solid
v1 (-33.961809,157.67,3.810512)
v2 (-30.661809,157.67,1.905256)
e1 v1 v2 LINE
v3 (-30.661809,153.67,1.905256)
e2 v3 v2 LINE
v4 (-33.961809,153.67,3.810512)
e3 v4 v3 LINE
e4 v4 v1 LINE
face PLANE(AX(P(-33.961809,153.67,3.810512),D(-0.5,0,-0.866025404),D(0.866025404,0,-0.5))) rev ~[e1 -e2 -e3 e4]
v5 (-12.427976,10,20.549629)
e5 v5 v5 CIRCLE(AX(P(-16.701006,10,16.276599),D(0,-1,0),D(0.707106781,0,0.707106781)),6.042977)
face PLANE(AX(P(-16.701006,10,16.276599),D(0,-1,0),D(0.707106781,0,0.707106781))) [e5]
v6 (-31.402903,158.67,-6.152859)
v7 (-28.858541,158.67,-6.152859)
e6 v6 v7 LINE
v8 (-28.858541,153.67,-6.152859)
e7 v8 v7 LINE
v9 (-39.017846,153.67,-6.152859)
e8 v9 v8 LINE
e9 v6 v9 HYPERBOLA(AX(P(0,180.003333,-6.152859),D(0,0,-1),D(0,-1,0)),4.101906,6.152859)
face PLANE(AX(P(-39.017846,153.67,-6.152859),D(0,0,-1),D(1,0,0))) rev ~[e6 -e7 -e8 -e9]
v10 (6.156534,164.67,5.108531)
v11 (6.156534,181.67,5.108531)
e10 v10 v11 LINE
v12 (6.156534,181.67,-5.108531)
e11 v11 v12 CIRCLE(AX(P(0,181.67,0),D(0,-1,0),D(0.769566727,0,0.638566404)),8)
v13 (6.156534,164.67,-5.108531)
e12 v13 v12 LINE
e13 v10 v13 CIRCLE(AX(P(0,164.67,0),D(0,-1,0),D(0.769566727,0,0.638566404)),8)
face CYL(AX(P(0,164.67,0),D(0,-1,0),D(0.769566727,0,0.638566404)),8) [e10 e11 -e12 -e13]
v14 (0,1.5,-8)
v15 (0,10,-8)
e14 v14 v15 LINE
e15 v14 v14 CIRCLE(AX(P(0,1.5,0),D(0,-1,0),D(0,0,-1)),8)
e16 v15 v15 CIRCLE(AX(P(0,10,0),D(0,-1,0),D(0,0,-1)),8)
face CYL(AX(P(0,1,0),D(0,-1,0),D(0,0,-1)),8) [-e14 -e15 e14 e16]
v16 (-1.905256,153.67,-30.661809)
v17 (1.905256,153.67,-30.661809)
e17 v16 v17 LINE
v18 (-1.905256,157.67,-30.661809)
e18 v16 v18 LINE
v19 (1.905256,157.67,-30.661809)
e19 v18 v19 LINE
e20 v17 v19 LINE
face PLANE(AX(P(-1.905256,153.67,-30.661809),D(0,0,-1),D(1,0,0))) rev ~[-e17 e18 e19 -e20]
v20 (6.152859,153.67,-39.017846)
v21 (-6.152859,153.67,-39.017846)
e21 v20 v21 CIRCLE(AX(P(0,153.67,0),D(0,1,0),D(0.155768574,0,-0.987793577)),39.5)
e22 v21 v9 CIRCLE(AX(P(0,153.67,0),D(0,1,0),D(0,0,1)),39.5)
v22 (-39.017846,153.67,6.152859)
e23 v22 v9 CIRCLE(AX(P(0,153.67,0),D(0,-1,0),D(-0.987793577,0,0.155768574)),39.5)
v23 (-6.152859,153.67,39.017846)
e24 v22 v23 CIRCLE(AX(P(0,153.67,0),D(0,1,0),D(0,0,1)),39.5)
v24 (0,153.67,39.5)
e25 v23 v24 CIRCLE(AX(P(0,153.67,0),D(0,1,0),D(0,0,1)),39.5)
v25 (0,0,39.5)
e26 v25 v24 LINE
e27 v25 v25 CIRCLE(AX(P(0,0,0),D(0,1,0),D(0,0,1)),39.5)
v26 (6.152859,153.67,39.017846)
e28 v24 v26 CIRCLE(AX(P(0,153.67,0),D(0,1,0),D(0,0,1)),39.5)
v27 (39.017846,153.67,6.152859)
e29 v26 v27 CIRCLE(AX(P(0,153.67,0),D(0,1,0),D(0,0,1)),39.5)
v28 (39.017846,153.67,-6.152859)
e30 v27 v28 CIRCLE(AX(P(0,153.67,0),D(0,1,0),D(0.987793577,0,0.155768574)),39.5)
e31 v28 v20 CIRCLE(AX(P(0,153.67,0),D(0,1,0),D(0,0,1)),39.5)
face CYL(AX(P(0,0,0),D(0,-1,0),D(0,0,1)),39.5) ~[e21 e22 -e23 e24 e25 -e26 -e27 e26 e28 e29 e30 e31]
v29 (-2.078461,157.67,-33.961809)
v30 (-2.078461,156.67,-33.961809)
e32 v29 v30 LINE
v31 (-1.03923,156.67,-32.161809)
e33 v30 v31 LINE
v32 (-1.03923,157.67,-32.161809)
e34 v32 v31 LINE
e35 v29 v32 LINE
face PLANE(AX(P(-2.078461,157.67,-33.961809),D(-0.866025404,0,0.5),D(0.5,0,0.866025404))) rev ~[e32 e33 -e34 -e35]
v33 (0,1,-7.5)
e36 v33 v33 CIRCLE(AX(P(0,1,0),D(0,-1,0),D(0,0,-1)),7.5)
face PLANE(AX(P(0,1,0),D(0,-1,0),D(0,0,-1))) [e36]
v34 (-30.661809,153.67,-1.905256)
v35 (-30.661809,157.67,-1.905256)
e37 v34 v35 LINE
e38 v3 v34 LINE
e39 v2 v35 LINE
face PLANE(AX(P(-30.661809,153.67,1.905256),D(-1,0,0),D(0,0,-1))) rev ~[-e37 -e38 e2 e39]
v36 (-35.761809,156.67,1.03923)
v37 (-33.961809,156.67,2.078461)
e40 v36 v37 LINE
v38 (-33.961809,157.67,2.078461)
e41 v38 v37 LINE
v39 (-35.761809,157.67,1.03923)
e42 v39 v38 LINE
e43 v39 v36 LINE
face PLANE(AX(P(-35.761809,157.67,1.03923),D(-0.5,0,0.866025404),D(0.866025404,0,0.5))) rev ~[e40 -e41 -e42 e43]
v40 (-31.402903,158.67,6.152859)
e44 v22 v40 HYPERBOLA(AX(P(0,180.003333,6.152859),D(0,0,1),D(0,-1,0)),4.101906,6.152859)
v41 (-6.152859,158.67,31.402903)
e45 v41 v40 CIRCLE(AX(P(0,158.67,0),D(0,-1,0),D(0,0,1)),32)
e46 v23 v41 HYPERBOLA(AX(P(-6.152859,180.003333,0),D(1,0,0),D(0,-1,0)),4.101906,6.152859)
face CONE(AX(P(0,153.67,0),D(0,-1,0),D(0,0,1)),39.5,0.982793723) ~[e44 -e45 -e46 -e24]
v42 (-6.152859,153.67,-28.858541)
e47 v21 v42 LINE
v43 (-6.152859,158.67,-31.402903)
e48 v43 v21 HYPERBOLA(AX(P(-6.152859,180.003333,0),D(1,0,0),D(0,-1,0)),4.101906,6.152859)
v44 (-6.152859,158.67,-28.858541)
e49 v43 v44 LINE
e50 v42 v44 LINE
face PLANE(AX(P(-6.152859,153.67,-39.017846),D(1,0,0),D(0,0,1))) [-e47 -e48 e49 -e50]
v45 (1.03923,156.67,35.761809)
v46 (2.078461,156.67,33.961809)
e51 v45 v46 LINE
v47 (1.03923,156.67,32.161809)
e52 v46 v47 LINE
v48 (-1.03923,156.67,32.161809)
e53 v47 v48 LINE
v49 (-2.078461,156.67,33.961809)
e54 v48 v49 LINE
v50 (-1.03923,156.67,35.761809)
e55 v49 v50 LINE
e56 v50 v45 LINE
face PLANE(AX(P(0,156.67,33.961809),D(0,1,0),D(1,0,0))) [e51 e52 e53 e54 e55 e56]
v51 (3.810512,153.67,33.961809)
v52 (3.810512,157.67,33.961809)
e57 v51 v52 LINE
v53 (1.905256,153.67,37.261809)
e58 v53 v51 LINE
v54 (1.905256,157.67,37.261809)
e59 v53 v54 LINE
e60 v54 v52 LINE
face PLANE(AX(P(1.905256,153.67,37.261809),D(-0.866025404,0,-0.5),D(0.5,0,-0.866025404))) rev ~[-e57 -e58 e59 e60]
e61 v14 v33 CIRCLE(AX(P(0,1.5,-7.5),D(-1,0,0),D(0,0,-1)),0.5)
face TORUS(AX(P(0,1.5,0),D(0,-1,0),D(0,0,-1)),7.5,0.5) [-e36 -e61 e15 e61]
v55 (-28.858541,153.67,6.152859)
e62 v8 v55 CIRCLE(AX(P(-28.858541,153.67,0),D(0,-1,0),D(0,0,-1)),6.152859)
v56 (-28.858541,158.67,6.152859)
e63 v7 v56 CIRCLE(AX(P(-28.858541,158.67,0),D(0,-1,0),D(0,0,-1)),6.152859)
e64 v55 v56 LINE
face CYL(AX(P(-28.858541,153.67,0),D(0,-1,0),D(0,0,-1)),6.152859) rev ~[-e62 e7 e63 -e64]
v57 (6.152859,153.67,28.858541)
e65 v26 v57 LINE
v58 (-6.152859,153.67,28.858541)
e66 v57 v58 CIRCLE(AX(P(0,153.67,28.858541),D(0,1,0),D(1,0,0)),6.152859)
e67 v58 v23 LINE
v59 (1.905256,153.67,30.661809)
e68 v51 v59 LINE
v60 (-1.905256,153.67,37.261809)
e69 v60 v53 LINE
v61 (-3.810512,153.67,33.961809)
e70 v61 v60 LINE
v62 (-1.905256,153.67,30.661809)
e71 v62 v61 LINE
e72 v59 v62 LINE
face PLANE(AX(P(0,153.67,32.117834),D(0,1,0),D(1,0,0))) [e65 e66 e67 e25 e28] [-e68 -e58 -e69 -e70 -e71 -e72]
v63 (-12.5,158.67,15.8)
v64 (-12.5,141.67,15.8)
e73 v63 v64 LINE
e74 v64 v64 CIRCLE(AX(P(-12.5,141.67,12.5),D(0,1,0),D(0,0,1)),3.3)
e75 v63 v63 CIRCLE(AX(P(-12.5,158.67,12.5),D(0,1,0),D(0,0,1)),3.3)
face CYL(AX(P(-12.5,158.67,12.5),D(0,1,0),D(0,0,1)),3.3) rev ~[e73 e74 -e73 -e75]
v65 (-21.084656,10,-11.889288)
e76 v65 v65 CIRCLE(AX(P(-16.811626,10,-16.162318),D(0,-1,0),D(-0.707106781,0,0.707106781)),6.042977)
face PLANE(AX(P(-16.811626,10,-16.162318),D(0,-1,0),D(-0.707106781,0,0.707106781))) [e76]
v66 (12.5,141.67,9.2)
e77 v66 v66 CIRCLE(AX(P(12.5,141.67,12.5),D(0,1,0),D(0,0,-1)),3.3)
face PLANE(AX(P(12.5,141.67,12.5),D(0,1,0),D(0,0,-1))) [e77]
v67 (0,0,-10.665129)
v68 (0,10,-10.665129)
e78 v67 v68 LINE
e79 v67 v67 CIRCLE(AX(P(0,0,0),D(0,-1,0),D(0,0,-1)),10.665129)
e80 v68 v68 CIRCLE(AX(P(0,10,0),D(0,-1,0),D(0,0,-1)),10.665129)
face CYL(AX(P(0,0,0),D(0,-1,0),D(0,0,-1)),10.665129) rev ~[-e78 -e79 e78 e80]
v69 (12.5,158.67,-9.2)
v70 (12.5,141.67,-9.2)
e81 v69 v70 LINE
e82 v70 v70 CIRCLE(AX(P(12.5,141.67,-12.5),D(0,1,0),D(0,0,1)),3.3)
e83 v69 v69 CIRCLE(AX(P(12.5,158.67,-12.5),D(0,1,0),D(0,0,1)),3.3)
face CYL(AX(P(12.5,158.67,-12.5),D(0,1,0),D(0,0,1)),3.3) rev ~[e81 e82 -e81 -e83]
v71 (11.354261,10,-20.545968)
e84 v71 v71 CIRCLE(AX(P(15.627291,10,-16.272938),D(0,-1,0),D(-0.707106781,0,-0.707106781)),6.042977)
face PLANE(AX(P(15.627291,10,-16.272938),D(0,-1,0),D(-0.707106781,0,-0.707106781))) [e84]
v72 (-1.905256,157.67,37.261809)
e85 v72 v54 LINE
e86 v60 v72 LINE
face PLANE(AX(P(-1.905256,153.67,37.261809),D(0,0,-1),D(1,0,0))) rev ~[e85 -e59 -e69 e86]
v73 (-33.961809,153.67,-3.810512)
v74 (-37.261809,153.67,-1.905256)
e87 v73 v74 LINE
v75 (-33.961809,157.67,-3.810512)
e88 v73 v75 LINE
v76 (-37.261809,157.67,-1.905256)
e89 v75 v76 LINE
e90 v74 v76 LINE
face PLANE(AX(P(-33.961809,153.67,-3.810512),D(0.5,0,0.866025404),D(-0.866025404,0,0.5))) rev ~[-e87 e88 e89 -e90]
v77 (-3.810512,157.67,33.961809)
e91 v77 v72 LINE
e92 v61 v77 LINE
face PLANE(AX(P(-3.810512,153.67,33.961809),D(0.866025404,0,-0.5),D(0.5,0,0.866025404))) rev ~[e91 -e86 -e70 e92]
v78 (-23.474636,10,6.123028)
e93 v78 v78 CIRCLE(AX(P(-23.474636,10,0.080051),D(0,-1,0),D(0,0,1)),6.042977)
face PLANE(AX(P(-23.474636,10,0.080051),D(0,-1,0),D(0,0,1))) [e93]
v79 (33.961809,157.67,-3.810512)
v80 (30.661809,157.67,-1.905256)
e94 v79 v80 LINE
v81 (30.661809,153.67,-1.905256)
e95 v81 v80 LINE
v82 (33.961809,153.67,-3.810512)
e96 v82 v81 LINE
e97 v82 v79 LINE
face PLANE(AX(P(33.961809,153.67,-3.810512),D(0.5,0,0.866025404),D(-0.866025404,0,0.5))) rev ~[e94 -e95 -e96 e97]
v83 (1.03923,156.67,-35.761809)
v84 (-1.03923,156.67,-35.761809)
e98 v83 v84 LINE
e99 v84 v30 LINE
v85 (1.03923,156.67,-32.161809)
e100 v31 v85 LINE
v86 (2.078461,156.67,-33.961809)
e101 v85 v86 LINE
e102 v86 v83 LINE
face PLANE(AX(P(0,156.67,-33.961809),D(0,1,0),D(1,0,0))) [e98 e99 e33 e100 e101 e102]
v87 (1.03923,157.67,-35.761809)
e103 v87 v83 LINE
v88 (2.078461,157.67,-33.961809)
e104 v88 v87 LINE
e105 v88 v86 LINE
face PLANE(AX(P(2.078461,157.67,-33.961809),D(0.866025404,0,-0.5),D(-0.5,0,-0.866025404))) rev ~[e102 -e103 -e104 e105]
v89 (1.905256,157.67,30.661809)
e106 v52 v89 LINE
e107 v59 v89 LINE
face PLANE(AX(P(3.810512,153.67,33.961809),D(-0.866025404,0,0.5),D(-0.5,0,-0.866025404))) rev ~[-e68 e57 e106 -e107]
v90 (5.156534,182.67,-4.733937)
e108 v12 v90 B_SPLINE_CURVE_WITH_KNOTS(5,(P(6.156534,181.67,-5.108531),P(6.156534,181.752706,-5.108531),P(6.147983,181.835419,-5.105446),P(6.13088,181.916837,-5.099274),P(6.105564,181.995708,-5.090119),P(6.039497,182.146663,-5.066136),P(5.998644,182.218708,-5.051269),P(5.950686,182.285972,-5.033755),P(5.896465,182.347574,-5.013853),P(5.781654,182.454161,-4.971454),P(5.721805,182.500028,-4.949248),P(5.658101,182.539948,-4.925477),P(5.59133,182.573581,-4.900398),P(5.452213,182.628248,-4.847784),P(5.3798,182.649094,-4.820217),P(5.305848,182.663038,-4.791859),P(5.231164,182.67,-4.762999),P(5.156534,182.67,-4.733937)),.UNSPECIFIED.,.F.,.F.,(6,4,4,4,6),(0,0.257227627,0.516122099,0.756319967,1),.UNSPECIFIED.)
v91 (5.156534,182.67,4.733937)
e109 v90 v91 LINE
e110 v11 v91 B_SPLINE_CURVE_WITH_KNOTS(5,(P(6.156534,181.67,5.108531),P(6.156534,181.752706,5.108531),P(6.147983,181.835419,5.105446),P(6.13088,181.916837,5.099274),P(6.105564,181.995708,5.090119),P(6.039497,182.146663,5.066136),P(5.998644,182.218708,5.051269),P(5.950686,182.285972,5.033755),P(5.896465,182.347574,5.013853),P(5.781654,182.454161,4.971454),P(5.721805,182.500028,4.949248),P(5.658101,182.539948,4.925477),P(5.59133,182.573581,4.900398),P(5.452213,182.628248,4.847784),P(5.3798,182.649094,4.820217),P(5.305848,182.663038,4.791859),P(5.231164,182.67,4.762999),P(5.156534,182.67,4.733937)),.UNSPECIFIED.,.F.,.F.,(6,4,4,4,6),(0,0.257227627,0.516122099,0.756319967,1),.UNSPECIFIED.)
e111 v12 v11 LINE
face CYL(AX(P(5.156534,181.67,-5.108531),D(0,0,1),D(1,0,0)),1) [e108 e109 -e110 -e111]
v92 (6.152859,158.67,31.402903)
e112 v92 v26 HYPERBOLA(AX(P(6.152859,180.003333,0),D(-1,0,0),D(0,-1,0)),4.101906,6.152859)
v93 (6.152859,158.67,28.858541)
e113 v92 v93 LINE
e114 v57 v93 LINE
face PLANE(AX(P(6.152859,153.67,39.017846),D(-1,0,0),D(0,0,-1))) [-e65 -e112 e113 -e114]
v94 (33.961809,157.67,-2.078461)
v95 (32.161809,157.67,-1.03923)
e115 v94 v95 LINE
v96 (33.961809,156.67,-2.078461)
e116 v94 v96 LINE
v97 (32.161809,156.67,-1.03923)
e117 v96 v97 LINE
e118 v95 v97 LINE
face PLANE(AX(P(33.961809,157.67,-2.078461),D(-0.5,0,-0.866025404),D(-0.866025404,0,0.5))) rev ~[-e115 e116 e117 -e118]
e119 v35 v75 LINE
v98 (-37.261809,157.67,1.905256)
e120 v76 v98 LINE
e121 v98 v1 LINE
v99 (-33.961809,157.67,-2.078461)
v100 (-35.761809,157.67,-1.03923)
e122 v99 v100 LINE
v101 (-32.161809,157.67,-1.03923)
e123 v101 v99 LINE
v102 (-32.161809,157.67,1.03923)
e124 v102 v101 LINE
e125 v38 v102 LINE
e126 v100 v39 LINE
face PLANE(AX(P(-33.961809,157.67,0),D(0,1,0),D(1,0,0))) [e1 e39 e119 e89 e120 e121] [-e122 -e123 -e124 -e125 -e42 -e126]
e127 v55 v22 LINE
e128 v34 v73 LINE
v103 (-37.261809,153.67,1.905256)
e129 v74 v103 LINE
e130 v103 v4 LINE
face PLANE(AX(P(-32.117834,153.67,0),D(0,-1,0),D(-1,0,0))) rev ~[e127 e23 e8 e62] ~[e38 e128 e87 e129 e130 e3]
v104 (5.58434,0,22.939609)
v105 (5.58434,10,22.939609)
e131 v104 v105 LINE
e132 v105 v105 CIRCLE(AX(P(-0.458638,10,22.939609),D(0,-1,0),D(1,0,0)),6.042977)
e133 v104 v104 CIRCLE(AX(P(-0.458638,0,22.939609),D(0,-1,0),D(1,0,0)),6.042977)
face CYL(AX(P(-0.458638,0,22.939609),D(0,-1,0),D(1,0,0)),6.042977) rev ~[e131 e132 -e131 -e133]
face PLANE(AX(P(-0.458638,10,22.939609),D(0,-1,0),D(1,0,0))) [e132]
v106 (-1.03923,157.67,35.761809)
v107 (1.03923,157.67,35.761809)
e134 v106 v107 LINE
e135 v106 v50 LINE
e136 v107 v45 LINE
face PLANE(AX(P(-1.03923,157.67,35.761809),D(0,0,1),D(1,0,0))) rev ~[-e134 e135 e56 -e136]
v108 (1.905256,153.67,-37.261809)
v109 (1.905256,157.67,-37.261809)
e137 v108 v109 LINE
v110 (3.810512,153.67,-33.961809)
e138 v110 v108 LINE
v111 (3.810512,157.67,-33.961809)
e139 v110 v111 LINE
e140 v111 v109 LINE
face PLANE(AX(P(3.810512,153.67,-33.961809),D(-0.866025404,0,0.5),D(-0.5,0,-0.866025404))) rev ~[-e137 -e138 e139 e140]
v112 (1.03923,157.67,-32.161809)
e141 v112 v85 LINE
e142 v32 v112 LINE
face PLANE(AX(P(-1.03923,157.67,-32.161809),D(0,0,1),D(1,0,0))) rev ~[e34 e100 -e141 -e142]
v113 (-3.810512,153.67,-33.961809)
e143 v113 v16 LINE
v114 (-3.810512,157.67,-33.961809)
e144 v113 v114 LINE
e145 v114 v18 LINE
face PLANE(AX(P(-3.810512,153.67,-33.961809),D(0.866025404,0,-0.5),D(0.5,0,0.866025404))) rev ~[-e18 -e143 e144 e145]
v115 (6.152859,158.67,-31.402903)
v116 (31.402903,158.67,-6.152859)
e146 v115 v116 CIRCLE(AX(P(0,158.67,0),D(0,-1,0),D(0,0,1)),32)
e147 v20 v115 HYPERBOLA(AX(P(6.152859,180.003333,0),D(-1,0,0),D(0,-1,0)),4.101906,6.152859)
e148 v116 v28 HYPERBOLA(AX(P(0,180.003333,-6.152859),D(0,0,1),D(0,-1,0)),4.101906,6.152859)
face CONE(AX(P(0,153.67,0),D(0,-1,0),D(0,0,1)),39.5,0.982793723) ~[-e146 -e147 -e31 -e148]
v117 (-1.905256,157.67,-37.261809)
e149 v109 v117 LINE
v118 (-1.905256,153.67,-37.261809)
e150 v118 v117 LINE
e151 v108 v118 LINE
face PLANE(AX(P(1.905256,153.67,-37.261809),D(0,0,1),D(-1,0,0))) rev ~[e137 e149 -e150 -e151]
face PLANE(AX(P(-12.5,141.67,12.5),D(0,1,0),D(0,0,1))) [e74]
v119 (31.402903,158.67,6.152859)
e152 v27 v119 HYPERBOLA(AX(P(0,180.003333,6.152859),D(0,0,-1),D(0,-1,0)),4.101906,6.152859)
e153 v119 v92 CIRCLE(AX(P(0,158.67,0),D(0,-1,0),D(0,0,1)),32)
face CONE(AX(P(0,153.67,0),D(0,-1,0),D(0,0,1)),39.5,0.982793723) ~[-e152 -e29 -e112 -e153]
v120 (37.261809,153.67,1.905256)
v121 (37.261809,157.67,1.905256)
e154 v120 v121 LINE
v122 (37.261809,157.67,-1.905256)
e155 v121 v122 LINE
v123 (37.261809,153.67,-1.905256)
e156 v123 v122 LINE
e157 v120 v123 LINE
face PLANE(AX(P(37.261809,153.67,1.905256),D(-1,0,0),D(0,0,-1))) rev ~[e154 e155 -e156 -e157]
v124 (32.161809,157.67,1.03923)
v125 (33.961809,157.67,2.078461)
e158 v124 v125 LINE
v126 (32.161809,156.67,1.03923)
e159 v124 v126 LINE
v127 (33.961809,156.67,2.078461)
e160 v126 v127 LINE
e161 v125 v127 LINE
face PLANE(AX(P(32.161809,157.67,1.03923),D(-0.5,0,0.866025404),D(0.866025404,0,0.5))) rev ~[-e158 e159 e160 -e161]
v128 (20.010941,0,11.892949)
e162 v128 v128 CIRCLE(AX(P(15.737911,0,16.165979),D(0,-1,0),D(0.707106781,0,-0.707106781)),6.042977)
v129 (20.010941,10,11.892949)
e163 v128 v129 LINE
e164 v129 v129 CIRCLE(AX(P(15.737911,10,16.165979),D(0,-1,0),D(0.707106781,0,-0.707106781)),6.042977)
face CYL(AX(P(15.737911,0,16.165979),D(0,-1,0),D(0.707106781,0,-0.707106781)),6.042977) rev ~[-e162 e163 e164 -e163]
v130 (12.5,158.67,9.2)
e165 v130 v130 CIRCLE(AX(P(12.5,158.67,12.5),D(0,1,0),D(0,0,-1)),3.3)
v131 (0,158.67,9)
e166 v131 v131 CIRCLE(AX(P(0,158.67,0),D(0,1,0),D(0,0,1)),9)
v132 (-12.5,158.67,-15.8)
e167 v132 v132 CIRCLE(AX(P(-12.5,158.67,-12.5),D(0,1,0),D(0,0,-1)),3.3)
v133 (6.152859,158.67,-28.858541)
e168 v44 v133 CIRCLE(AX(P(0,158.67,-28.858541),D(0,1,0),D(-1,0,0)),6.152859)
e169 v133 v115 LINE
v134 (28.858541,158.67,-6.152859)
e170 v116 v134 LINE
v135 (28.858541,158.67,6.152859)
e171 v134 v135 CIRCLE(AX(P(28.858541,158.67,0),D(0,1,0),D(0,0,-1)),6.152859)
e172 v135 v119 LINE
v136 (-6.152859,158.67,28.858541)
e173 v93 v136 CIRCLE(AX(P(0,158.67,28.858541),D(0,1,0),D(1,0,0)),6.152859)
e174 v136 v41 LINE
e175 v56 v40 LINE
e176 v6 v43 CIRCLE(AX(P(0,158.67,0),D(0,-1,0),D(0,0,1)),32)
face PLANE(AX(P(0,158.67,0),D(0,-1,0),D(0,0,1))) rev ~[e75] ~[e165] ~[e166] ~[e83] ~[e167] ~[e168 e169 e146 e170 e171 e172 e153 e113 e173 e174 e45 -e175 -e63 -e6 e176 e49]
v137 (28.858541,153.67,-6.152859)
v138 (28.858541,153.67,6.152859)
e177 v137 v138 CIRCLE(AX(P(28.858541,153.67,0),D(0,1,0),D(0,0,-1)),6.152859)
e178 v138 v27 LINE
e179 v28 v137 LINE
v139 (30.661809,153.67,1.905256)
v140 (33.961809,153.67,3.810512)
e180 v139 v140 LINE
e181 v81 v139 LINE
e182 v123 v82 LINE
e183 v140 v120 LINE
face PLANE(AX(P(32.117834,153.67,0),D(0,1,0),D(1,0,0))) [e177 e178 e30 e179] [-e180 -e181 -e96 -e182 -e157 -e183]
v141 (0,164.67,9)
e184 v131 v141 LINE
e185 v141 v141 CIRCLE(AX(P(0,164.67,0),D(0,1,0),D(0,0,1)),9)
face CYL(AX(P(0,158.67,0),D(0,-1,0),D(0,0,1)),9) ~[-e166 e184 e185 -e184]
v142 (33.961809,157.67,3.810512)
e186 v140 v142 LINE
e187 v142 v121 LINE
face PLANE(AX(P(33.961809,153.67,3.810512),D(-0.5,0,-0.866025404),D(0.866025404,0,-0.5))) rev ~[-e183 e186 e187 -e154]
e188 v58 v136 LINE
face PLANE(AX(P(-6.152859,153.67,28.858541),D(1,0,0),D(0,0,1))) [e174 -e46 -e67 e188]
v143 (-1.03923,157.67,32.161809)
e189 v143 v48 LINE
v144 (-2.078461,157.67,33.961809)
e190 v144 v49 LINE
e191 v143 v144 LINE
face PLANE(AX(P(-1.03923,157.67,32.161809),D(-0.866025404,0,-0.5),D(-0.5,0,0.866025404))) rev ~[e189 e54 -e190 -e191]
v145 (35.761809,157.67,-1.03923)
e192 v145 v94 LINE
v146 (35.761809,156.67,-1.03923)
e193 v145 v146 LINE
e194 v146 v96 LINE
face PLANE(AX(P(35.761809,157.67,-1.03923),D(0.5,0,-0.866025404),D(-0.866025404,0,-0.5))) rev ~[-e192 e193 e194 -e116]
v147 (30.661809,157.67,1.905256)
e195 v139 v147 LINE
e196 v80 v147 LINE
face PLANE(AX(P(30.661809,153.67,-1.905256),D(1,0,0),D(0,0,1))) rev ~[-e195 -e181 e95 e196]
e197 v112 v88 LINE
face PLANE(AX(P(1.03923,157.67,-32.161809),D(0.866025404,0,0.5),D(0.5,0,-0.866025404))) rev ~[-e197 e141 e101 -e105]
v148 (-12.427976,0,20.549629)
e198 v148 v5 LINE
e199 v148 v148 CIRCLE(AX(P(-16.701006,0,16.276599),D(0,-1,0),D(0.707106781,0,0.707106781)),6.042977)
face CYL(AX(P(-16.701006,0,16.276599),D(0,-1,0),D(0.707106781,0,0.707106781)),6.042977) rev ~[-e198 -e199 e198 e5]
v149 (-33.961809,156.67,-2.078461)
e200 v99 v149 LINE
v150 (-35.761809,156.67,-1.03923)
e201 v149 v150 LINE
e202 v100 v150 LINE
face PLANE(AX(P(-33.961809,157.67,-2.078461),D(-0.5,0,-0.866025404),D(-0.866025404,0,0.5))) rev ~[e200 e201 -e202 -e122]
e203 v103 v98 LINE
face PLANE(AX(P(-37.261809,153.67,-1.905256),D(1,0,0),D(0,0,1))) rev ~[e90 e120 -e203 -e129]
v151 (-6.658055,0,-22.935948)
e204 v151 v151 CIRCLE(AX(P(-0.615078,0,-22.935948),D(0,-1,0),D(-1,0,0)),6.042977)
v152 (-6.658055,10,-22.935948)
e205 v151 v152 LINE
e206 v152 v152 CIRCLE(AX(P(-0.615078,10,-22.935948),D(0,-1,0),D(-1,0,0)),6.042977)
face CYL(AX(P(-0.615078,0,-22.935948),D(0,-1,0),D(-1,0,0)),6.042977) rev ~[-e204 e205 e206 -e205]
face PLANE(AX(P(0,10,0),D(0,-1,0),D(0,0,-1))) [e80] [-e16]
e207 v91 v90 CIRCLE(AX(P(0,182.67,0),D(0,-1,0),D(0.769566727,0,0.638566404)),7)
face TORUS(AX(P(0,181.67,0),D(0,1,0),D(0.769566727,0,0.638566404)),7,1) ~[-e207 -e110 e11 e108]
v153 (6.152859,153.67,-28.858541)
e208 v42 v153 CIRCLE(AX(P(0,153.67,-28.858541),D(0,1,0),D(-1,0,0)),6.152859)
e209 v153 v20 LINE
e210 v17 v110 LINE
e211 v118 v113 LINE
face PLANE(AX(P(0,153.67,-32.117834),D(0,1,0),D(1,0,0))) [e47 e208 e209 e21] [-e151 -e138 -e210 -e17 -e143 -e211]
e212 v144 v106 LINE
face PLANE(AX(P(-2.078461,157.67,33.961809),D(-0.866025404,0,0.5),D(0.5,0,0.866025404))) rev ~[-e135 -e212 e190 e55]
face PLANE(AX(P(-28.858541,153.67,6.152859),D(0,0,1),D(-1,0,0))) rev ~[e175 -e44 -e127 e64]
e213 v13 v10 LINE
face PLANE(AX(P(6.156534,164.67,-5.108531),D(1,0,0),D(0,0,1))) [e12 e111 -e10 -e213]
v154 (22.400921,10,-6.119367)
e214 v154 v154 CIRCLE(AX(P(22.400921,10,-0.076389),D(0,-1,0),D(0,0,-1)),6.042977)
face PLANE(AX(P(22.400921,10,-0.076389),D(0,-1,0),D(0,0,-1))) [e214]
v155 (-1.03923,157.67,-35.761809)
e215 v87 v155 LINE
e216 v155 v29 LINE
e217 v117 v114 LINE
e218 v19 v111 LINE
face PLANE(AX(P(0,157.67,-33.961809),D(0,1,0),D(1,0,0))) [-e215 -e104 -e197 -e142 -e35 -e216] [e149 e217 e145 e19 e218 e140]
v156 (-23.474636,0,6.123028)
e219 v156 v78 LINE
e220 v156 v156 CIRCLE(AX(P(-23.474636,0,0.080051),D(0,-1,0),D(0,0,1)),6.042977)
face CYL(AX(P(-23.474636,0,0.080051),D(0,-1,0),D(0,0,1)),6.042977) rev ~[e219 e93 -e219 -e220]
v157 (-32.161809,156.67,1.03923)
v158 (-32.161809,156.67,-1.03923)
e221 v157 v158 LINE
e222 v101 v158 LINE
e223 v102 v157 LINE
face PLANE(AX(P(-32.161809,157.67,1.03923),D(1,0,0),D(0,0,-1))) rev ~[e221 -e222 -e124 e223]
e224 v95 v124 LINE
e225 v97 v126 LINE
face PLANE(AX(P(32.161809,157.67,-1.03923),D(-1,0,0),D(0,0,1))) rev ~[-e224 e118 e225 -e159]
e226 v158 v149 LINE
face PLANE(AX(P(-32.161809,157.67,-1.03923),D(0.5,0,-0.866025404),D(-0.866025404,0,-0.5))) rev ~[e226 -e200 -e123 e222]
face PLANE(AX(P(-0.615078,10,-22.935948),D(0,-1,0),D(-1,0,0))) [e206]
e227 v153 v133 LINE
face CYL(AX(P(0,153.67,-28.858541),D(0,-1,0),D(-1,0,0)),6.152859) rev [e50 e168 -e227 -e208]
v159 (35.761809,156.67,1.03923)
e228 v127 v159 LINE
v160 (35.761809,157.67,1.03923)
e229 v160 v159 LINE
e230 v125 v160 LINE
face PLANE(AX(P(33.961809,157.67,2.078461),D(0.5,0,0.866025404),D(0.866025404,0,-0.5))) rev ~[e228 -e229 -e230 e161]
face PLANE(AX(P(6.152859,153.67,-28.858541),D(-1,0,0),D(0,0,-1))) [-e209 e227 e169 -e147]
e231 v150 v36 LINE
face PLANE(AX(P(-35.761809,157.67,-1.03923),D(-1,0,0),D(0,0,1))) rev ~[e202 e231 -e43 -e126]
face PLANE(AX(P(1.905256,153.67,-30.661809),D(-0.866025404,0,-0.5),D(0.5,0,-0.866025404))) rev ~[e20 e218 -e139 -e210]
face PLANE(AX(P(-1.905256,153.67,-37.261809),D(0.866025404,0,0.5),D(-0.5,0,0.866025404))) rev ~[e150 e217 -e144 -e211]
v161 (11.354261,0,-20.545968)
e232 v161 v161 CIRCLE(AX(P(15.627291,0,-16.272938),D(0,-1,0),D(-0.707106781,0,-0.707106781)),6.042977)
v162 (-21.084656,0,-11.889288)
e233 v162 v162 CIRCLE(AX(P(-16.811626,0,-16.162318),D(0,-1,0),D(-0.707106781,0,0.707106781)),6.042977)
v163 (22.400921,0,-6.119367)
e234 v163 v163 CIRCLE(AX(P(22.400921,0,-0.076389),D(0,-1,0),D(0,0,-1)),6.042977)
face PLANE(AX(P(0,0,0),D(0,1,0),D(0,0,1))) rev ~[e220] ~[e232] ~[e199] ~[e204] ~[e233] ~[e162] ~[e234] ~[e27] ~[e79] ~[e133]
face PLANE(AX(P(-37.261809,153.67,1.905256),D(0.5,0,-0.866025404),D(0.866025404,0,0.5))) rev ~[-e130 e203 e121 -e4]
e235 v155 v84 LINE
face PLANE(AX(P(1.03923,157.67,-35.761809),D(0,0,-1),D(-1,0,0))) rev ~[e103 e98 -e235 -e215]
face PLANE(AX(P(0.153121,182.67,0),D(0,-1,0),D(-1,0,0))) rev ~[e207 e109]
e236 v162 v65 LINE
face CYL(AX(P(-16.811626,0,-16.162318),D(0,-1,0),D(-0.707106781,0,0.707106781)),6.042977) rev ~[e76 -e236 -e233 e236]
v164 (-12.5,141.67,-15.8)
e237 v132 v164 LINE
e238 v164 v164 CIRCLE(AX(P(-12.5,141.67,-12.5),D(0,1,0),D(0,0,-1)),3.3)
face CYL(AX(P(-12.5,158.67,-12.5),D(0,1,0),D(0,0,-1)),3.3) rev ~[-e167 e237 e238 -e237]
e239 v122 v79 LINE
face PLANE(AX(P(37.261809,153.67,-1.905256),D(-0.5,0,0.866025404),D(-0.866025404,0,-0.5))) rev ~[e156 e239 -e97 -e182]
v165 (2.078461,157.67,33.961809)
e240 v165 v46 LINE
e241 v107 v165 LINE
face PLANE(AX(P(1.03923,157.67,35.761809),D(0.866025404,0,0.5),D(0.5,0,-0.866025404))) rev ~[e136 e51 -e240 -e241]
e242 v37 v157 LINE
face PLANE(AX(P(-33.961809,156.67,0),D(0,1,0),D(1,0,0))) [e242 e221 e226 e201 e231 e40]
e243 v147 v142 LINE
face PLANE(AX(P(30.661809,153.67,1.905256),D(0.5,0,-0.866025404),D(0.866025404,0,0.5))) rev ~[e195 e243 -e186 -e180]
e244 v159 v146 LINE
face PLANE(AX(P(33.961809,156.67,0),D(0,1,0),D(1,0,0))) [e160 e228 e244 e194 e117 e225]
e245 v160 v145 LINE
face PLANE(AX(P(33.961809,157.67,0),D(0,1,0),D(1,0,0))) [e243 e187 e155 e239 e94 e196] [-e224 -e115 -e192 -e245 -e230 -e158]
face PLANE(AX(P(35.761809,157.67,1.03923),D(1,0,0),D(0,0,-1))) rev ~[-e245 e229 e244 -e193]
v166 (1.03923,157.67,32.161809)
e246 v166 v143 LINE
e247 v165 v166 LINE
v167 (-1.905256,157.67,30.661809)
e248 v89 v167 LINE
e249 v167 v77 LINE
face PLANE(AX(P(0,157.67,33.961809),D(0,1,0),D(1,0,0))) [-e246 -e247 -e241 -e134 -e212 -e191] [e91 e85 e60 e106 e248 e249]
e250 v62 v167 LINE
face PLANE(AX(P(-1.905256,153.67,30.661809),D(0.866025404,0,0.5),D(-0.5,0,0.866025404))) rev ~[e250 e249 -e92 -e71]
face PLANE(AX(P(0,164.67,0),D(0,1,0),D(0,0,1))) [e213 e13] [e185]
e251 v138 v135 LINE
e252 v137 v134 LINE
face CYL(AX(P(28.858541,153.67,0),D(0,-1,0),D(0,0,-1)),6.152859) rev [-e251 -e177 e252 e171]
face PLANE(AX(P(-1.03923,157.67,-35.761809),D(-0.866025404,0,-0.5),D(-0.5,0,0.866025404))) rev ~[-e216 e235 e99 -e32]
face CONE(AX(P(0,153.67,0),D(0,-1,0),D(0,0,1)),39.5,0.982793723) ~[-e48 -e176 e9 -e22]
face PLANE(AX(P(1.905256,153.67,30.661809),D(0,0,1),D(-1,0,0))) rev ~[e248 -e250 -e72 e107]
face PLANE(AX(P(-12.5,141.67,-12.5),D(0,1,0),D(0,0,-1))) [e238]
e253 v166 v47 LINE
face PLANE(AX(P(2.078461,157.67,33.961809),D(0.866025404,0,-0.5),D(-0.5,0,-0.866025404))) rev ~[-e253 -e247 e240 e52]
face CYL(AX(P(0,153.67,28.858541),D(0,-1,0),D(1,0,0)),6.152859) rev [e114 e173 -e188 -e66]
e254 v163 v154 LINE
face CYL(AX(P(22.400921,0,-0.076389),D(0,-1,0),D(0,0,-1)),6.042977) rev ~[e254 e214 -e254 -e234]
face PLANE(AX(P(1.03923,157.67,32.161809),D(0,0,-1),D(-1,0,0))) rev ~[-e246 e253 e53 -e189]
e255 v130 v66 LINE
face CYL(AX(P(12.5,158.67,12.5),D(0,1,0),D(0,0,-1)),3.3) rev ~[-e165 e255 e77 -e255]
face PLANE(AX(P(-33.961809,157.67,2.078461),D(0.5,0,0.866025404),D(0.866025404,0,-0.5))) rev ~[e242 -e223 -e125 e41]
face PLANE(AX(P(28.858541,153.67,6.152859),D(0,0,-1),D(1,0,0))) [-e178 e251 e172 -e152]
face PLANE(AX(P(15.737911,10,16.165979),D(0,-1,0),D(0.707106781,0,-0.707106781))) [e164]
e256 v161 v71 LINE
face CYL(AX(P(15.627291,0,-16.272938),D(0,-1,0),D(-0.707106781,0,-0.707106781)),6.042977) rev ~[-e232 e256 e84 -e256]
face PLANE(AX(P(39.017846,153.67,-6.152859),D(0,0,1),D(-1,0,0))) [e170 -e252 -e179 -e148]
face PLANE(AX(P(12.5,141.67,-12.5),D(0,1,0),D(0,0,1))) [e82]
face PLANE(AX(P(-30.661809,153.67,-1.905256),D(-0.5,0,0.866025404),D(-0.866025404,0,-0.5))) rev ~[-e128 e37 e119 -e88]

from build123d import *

# Parameters (mm, degrees)
SKETCH1_R           = 39.5
BOSS_EXTRUDE1_DEPTH = 153.67
CUT_EXTRUDE1_START  = -5
CUT_EXTRUDE1_DEPTH  = 5
SKETCH4_5_R         = 9
BOSS_EXTRUDE2_DEPTH = 6
BOSS_EXTRUDE3_DEPTH = 18
SKETCH4_7_R         = 3.3
CUT_EXTRUDE3_DEPTH  = 17
BOSS_EXTRUDE4_DEPTH = 4
CUT_EXTRUDE5_DEPTH  = 1
SKETCH9_R           = 6.042977367
CUT_EXTRUDE6_DEPTH  = 10
CIRPATTERN1_COUNT   = 8
SKETCH9_3_R         = 10.665128642
CUT_EXTRUDE7_DEPTH  = 10
BOSS_EXTRUDE5_START = 9
SKETCH10_R          = 8
BOSS_EXTRUDE5_DEPTH = 9
FILLET3_R           = 0.5
FILLET4_R           = 1


with BuildPart() as part:
    # Sketch1 → Boss-Extrude1 (new body)
    with BuildSketch(Plane(origin=(0, 0, 0), x_dir=(1, 0, 0), z_dir=(0, 1, 0))):
        with Locations(Location((0, 0, 0), (0, 0, 270))):
            Circle(SKETCH1_R)
    extrude(amount=BOSS_EXTRUDE1_DEPTH)

    # Sketch2 → Revolve1 (revolve)
    with BuildSketch(Plane.XY, mode=Mode.PRIVATE) as revolve1_sk:
        Polygon((0, 153.67), (-39.5, 153.67), (-32, 158.67), (0, 158.67), align=None)
    revolve(revolve1_sk.sketch.rotate(Axis((0, 158.67, 0), (0, -1, 0)), 270), axis=Axis((0, 158.67, 0), (0, -1, 0)))

    # Sketch4 → Cut-Extrude1 (cut)
    with BuildSketch(Plane(origin=(0, 158.67, 0), x_dir=(1, 0, 0), z_dir=(0, 1, 0)).offset(CUT_EXTRUDE1_START)):
        with BuildLine():
            Line((-39.017846302, 6.152858683), (-28.858540725, 6.152858683))
            ThreePointArc((-28.858540725, 6.152858683), (-22.705682042, 0), (-28.858540725, -6.152858683))
            Line((-28.858540725, -6.152858683), (-39.017846302, -6.152858683))
            ThreePointArc((-39.017846302, -6.152858683), (-39.5, 0), (-39.017846302, 6.152858683))
        make_face()
        with BuildLine():
            Line((-6.152858683, 39.017846302), (-6.152858683, 28.858540725))
            ThreePointArc((-6.152858683, 28.858540725), (0, 22.705682042), (6.152858683, 28.858540725))
            Line((6.152858683, 28.858540725), (6.152858683, 39.017846302))
            ThreePointArc((6.152858683, 39.017846302), (0, 39.5), (-6.152858683, 39.017846302))
        make_face()
        with BuildLine():
            Line((39.017846302, 6.152858683), (28.858540725, 6.152858683))
            ThreePointArc((28.858540725, 6.152858683), (22.705682042, 0), (28.858540725, -6.152858683))
            Line((28.858540725, -6.152858683), (39.017846302, -6.152858683))
            ThreePointArc((39.017846302, -6.152858683), (39.5, 0), (39.017846302, 6.152858683))
        make_face()
        with BuildLine():
            Line((6.152858683, -39.017846302), (6.152858683, -28.858540725))
            ThreePointArc((6.152858683, -28.858540725), (0, -22.705682042), (-6.152858683, -28.858540725))
            Line((-6.152858683, -28.858540725), (-6.152858683, -39.017846302))
            ThreePointArc((-6.152858683, -39.017846302), (0, -39.5), (6.152858683, -39.017846302))
        make_face()
    extrude(amount=CUT_EXTRUDE1_DEPTH, mode=Mode.SUBTRACT)

    # Sketch4<5> → Boss-Extrude2 (add)
    with BuildSketch(Plane(origin=(0, 158.67, 0), x_dir=(1, 0, 0), z_dir=(0, 1, 0))):
        with Locations(Location((0, 0, 0), (0, 0, 270))):
            Circle(SKETCH4_5_R)
    extrude(amount=BOSS_EXTRUDE2_DEPTH)

    # Sketch5 → Boss-Extrude3 (add)
    with BuildSketch(Plane(origin=(0, 164.67, 0), x_dir=(1, 0, 0), z_dir=(0, 1, 0))):
        with BuildLine():
            Line((6.156533816, 5.108531235), (6.156533816, -5.108531235))
            ThreePointArc((6.156533816, -5.108531235), (-8, 0), (6.156533816, 5.108531235))
        make_face()
    extrude(amount=BOSS_EXTRUDE3_DEPTH)

    # Sketch4<7> → Cut-Extrude3 (cut)
    with BuildSketch(Plane(origin=(0, 158.67, 0), x_dir=(1, 0, 0), z_dir=(0, 1, 0))):
        with Locations(Location((12.5, 12.5, 0), (0, 0, 270))):
            Circle(SKETCH4_7_R)
        with Locations(Location((-12.5, 12.5, 0), (0, 0, 90))):
            Circle(SKETCH4_7_R)
        with Locations(Location((12.5, -12.5, 0), (0, 0, 90))):
            Circle(SKETCH4_7_R)
        with Locations(Location((-12.5, -12.5, 0), (0, 0, 270))):
            Circle(SKETCH4_7_R)
    extrude(amount=-CUT_EXTRUDE3_DEPTH, mode=Mode.SUBTRACT)

    # Sketch6 → Boss-Extrude4 (add)
    with BuildSketch(Plane(origin=(0, 153.67, 0), x_dir=(1, 0, 0), z_dir=(0, 1, 0))):
        Polygon((1.905255888, -30.661808974), (-1.905255888, -30.661808974), (-3.810511777, -33.961808974), (-1.905255888, -37.261808974), (1.905255888, -37.261808974), (3.810511777, -33.961808974), align=None)
        Polygon((-37.261808974, 1.905255888), (-37.261808974, -1.905255888), (-33.961808974, -3.810511777), (-30.661808974, -1.905255888), (-30.661808974, 1.905255888), (-33.961808974, 3.810511777), align=None)
        Polygon((1.905255888, 37.261808974), (-1.905255888, 37.261808974), (-3.810511777, 33.961808974), (-1.905255888, 30.661808974), (1.905255888, 30.661808974), (3.810511777, 33.961808974), align=None)
        Polygon((37.261808974, -1.905255888), (37.261808974, 1.905255888), (33.961808974, 3.810511777), (30.661808974, 1.905255888), (30.661808974, -1.905255888), (33.961808974, -3.810511777), align=None)
    extrude(amount=BOSS_EXTRUDE4_DEPTH)

    # Sketch8 → Cut-Extrude5 (cut)
    with BuildSketch(Plane(origin=(0, 157.67, 0), x_dir=(1, 0, 0), z_dir=(0, 1, 0))):
        Polygon((-35.761808974, 1.039230485), (-35.761808974, -1.039230485), (-33.961808974, -2.078460969), (-32.161808974, -1.039230485), (-32.161808974, 1.039230485), (-33.961808974, 2.078460969), align=None)
        Polygon((-1.039230485, -35.761808974), (1.039230485, -35.761808974), (2.078460969, -33.961808974), (1.039230485, -32.161808974), (-1.039230485, -32.161808974), (-2.078460969, -33.961808974), align=None)
        Polygon((1.039230485, 35.761808974), (-1.039230485, 35.761808974), (-2.078460969, 33.961808974), (-1.039230485, 32.161808974), (1.039230485, 32.161808974), (2.078460969, 33.961808974), align=None)
        Polygon((35.761808974, -1.039230485), (35.761808974, 1.039230485), (33.961808974, 2.078460969), (32.161808974, 1.039230485), (32.161808974, -1.039230485), (33.961808974, -2.078460969), align=None)
    extrude(amount=-CUT_EXTRUDE5_DEPTH, mode=Mode.SUBTRACT)

    # Sketch9 → Cut-Extrude6 (cut)
    with BuildSketch(Plane.XZ):
        with Locations(Location((22.400920741, -0.076389237, 0), (0, 0, 270))):
            Circle(SKETCH9_R)
    cut_extrude6 = extrude(amount=-CUT_EXTRUDE6_DEPTH, mode=Mode.SUBTRACT)

    # CirPattern1: Cut-Extrude6 ×8 about axis
    cirpattern1_axis = Axis((-0.536857588, 0, 0.001830735), (0, 1, 0))
    for i in range(1, CIRPATTERN1_COUNT):
        add(cut_extrude6.rotate(cirpattern1_axis, i * 360 / CIRPATTERN1_COUNT), mode=Mode.SUBTRACT)

    # Sketch9<3> → Cut-Extrude7 (cut)
    with BuildSketch(Plane.XZ):
        with Locations(Location((0, 0, 0), (0, 0, 270))):
            Circle(SKETCH9_3_R)
    extrude(amount=-CUT_EXTRUDE7_DEPTH, mode=Mode.SUBTRACT)

    # Sketch10 → Boss-Extrude5 (add)
    with BuildSketch(Plane.XZ.offset(-10).offset(BOSS_EXTRUDE5_START)):
        with Locations(Location((0, 0, 0), (0, 0, 270))):
            Circle(SKETCH10_R)
    extrude(amount=-BOSS_EXTRUDE5_DEPTH)

    # Fillet3
    fillet3_edges = [part.edges().sort_by_distance(p)[0] for p in [
        (0, 1, 8),
    ]]
    fillet(fillet3_edges, radius=FILLET3_R)

    # Fillet4
    fillet4_edges = [part.edges().sort_by_distance(p)[0] for p in [
        (6.156533816, 182.67, 0),
        (-8, 182.67, 0),
    ]]
    fillet(fillet4_edges, radius=FILLET4_R)


solid = part.part
